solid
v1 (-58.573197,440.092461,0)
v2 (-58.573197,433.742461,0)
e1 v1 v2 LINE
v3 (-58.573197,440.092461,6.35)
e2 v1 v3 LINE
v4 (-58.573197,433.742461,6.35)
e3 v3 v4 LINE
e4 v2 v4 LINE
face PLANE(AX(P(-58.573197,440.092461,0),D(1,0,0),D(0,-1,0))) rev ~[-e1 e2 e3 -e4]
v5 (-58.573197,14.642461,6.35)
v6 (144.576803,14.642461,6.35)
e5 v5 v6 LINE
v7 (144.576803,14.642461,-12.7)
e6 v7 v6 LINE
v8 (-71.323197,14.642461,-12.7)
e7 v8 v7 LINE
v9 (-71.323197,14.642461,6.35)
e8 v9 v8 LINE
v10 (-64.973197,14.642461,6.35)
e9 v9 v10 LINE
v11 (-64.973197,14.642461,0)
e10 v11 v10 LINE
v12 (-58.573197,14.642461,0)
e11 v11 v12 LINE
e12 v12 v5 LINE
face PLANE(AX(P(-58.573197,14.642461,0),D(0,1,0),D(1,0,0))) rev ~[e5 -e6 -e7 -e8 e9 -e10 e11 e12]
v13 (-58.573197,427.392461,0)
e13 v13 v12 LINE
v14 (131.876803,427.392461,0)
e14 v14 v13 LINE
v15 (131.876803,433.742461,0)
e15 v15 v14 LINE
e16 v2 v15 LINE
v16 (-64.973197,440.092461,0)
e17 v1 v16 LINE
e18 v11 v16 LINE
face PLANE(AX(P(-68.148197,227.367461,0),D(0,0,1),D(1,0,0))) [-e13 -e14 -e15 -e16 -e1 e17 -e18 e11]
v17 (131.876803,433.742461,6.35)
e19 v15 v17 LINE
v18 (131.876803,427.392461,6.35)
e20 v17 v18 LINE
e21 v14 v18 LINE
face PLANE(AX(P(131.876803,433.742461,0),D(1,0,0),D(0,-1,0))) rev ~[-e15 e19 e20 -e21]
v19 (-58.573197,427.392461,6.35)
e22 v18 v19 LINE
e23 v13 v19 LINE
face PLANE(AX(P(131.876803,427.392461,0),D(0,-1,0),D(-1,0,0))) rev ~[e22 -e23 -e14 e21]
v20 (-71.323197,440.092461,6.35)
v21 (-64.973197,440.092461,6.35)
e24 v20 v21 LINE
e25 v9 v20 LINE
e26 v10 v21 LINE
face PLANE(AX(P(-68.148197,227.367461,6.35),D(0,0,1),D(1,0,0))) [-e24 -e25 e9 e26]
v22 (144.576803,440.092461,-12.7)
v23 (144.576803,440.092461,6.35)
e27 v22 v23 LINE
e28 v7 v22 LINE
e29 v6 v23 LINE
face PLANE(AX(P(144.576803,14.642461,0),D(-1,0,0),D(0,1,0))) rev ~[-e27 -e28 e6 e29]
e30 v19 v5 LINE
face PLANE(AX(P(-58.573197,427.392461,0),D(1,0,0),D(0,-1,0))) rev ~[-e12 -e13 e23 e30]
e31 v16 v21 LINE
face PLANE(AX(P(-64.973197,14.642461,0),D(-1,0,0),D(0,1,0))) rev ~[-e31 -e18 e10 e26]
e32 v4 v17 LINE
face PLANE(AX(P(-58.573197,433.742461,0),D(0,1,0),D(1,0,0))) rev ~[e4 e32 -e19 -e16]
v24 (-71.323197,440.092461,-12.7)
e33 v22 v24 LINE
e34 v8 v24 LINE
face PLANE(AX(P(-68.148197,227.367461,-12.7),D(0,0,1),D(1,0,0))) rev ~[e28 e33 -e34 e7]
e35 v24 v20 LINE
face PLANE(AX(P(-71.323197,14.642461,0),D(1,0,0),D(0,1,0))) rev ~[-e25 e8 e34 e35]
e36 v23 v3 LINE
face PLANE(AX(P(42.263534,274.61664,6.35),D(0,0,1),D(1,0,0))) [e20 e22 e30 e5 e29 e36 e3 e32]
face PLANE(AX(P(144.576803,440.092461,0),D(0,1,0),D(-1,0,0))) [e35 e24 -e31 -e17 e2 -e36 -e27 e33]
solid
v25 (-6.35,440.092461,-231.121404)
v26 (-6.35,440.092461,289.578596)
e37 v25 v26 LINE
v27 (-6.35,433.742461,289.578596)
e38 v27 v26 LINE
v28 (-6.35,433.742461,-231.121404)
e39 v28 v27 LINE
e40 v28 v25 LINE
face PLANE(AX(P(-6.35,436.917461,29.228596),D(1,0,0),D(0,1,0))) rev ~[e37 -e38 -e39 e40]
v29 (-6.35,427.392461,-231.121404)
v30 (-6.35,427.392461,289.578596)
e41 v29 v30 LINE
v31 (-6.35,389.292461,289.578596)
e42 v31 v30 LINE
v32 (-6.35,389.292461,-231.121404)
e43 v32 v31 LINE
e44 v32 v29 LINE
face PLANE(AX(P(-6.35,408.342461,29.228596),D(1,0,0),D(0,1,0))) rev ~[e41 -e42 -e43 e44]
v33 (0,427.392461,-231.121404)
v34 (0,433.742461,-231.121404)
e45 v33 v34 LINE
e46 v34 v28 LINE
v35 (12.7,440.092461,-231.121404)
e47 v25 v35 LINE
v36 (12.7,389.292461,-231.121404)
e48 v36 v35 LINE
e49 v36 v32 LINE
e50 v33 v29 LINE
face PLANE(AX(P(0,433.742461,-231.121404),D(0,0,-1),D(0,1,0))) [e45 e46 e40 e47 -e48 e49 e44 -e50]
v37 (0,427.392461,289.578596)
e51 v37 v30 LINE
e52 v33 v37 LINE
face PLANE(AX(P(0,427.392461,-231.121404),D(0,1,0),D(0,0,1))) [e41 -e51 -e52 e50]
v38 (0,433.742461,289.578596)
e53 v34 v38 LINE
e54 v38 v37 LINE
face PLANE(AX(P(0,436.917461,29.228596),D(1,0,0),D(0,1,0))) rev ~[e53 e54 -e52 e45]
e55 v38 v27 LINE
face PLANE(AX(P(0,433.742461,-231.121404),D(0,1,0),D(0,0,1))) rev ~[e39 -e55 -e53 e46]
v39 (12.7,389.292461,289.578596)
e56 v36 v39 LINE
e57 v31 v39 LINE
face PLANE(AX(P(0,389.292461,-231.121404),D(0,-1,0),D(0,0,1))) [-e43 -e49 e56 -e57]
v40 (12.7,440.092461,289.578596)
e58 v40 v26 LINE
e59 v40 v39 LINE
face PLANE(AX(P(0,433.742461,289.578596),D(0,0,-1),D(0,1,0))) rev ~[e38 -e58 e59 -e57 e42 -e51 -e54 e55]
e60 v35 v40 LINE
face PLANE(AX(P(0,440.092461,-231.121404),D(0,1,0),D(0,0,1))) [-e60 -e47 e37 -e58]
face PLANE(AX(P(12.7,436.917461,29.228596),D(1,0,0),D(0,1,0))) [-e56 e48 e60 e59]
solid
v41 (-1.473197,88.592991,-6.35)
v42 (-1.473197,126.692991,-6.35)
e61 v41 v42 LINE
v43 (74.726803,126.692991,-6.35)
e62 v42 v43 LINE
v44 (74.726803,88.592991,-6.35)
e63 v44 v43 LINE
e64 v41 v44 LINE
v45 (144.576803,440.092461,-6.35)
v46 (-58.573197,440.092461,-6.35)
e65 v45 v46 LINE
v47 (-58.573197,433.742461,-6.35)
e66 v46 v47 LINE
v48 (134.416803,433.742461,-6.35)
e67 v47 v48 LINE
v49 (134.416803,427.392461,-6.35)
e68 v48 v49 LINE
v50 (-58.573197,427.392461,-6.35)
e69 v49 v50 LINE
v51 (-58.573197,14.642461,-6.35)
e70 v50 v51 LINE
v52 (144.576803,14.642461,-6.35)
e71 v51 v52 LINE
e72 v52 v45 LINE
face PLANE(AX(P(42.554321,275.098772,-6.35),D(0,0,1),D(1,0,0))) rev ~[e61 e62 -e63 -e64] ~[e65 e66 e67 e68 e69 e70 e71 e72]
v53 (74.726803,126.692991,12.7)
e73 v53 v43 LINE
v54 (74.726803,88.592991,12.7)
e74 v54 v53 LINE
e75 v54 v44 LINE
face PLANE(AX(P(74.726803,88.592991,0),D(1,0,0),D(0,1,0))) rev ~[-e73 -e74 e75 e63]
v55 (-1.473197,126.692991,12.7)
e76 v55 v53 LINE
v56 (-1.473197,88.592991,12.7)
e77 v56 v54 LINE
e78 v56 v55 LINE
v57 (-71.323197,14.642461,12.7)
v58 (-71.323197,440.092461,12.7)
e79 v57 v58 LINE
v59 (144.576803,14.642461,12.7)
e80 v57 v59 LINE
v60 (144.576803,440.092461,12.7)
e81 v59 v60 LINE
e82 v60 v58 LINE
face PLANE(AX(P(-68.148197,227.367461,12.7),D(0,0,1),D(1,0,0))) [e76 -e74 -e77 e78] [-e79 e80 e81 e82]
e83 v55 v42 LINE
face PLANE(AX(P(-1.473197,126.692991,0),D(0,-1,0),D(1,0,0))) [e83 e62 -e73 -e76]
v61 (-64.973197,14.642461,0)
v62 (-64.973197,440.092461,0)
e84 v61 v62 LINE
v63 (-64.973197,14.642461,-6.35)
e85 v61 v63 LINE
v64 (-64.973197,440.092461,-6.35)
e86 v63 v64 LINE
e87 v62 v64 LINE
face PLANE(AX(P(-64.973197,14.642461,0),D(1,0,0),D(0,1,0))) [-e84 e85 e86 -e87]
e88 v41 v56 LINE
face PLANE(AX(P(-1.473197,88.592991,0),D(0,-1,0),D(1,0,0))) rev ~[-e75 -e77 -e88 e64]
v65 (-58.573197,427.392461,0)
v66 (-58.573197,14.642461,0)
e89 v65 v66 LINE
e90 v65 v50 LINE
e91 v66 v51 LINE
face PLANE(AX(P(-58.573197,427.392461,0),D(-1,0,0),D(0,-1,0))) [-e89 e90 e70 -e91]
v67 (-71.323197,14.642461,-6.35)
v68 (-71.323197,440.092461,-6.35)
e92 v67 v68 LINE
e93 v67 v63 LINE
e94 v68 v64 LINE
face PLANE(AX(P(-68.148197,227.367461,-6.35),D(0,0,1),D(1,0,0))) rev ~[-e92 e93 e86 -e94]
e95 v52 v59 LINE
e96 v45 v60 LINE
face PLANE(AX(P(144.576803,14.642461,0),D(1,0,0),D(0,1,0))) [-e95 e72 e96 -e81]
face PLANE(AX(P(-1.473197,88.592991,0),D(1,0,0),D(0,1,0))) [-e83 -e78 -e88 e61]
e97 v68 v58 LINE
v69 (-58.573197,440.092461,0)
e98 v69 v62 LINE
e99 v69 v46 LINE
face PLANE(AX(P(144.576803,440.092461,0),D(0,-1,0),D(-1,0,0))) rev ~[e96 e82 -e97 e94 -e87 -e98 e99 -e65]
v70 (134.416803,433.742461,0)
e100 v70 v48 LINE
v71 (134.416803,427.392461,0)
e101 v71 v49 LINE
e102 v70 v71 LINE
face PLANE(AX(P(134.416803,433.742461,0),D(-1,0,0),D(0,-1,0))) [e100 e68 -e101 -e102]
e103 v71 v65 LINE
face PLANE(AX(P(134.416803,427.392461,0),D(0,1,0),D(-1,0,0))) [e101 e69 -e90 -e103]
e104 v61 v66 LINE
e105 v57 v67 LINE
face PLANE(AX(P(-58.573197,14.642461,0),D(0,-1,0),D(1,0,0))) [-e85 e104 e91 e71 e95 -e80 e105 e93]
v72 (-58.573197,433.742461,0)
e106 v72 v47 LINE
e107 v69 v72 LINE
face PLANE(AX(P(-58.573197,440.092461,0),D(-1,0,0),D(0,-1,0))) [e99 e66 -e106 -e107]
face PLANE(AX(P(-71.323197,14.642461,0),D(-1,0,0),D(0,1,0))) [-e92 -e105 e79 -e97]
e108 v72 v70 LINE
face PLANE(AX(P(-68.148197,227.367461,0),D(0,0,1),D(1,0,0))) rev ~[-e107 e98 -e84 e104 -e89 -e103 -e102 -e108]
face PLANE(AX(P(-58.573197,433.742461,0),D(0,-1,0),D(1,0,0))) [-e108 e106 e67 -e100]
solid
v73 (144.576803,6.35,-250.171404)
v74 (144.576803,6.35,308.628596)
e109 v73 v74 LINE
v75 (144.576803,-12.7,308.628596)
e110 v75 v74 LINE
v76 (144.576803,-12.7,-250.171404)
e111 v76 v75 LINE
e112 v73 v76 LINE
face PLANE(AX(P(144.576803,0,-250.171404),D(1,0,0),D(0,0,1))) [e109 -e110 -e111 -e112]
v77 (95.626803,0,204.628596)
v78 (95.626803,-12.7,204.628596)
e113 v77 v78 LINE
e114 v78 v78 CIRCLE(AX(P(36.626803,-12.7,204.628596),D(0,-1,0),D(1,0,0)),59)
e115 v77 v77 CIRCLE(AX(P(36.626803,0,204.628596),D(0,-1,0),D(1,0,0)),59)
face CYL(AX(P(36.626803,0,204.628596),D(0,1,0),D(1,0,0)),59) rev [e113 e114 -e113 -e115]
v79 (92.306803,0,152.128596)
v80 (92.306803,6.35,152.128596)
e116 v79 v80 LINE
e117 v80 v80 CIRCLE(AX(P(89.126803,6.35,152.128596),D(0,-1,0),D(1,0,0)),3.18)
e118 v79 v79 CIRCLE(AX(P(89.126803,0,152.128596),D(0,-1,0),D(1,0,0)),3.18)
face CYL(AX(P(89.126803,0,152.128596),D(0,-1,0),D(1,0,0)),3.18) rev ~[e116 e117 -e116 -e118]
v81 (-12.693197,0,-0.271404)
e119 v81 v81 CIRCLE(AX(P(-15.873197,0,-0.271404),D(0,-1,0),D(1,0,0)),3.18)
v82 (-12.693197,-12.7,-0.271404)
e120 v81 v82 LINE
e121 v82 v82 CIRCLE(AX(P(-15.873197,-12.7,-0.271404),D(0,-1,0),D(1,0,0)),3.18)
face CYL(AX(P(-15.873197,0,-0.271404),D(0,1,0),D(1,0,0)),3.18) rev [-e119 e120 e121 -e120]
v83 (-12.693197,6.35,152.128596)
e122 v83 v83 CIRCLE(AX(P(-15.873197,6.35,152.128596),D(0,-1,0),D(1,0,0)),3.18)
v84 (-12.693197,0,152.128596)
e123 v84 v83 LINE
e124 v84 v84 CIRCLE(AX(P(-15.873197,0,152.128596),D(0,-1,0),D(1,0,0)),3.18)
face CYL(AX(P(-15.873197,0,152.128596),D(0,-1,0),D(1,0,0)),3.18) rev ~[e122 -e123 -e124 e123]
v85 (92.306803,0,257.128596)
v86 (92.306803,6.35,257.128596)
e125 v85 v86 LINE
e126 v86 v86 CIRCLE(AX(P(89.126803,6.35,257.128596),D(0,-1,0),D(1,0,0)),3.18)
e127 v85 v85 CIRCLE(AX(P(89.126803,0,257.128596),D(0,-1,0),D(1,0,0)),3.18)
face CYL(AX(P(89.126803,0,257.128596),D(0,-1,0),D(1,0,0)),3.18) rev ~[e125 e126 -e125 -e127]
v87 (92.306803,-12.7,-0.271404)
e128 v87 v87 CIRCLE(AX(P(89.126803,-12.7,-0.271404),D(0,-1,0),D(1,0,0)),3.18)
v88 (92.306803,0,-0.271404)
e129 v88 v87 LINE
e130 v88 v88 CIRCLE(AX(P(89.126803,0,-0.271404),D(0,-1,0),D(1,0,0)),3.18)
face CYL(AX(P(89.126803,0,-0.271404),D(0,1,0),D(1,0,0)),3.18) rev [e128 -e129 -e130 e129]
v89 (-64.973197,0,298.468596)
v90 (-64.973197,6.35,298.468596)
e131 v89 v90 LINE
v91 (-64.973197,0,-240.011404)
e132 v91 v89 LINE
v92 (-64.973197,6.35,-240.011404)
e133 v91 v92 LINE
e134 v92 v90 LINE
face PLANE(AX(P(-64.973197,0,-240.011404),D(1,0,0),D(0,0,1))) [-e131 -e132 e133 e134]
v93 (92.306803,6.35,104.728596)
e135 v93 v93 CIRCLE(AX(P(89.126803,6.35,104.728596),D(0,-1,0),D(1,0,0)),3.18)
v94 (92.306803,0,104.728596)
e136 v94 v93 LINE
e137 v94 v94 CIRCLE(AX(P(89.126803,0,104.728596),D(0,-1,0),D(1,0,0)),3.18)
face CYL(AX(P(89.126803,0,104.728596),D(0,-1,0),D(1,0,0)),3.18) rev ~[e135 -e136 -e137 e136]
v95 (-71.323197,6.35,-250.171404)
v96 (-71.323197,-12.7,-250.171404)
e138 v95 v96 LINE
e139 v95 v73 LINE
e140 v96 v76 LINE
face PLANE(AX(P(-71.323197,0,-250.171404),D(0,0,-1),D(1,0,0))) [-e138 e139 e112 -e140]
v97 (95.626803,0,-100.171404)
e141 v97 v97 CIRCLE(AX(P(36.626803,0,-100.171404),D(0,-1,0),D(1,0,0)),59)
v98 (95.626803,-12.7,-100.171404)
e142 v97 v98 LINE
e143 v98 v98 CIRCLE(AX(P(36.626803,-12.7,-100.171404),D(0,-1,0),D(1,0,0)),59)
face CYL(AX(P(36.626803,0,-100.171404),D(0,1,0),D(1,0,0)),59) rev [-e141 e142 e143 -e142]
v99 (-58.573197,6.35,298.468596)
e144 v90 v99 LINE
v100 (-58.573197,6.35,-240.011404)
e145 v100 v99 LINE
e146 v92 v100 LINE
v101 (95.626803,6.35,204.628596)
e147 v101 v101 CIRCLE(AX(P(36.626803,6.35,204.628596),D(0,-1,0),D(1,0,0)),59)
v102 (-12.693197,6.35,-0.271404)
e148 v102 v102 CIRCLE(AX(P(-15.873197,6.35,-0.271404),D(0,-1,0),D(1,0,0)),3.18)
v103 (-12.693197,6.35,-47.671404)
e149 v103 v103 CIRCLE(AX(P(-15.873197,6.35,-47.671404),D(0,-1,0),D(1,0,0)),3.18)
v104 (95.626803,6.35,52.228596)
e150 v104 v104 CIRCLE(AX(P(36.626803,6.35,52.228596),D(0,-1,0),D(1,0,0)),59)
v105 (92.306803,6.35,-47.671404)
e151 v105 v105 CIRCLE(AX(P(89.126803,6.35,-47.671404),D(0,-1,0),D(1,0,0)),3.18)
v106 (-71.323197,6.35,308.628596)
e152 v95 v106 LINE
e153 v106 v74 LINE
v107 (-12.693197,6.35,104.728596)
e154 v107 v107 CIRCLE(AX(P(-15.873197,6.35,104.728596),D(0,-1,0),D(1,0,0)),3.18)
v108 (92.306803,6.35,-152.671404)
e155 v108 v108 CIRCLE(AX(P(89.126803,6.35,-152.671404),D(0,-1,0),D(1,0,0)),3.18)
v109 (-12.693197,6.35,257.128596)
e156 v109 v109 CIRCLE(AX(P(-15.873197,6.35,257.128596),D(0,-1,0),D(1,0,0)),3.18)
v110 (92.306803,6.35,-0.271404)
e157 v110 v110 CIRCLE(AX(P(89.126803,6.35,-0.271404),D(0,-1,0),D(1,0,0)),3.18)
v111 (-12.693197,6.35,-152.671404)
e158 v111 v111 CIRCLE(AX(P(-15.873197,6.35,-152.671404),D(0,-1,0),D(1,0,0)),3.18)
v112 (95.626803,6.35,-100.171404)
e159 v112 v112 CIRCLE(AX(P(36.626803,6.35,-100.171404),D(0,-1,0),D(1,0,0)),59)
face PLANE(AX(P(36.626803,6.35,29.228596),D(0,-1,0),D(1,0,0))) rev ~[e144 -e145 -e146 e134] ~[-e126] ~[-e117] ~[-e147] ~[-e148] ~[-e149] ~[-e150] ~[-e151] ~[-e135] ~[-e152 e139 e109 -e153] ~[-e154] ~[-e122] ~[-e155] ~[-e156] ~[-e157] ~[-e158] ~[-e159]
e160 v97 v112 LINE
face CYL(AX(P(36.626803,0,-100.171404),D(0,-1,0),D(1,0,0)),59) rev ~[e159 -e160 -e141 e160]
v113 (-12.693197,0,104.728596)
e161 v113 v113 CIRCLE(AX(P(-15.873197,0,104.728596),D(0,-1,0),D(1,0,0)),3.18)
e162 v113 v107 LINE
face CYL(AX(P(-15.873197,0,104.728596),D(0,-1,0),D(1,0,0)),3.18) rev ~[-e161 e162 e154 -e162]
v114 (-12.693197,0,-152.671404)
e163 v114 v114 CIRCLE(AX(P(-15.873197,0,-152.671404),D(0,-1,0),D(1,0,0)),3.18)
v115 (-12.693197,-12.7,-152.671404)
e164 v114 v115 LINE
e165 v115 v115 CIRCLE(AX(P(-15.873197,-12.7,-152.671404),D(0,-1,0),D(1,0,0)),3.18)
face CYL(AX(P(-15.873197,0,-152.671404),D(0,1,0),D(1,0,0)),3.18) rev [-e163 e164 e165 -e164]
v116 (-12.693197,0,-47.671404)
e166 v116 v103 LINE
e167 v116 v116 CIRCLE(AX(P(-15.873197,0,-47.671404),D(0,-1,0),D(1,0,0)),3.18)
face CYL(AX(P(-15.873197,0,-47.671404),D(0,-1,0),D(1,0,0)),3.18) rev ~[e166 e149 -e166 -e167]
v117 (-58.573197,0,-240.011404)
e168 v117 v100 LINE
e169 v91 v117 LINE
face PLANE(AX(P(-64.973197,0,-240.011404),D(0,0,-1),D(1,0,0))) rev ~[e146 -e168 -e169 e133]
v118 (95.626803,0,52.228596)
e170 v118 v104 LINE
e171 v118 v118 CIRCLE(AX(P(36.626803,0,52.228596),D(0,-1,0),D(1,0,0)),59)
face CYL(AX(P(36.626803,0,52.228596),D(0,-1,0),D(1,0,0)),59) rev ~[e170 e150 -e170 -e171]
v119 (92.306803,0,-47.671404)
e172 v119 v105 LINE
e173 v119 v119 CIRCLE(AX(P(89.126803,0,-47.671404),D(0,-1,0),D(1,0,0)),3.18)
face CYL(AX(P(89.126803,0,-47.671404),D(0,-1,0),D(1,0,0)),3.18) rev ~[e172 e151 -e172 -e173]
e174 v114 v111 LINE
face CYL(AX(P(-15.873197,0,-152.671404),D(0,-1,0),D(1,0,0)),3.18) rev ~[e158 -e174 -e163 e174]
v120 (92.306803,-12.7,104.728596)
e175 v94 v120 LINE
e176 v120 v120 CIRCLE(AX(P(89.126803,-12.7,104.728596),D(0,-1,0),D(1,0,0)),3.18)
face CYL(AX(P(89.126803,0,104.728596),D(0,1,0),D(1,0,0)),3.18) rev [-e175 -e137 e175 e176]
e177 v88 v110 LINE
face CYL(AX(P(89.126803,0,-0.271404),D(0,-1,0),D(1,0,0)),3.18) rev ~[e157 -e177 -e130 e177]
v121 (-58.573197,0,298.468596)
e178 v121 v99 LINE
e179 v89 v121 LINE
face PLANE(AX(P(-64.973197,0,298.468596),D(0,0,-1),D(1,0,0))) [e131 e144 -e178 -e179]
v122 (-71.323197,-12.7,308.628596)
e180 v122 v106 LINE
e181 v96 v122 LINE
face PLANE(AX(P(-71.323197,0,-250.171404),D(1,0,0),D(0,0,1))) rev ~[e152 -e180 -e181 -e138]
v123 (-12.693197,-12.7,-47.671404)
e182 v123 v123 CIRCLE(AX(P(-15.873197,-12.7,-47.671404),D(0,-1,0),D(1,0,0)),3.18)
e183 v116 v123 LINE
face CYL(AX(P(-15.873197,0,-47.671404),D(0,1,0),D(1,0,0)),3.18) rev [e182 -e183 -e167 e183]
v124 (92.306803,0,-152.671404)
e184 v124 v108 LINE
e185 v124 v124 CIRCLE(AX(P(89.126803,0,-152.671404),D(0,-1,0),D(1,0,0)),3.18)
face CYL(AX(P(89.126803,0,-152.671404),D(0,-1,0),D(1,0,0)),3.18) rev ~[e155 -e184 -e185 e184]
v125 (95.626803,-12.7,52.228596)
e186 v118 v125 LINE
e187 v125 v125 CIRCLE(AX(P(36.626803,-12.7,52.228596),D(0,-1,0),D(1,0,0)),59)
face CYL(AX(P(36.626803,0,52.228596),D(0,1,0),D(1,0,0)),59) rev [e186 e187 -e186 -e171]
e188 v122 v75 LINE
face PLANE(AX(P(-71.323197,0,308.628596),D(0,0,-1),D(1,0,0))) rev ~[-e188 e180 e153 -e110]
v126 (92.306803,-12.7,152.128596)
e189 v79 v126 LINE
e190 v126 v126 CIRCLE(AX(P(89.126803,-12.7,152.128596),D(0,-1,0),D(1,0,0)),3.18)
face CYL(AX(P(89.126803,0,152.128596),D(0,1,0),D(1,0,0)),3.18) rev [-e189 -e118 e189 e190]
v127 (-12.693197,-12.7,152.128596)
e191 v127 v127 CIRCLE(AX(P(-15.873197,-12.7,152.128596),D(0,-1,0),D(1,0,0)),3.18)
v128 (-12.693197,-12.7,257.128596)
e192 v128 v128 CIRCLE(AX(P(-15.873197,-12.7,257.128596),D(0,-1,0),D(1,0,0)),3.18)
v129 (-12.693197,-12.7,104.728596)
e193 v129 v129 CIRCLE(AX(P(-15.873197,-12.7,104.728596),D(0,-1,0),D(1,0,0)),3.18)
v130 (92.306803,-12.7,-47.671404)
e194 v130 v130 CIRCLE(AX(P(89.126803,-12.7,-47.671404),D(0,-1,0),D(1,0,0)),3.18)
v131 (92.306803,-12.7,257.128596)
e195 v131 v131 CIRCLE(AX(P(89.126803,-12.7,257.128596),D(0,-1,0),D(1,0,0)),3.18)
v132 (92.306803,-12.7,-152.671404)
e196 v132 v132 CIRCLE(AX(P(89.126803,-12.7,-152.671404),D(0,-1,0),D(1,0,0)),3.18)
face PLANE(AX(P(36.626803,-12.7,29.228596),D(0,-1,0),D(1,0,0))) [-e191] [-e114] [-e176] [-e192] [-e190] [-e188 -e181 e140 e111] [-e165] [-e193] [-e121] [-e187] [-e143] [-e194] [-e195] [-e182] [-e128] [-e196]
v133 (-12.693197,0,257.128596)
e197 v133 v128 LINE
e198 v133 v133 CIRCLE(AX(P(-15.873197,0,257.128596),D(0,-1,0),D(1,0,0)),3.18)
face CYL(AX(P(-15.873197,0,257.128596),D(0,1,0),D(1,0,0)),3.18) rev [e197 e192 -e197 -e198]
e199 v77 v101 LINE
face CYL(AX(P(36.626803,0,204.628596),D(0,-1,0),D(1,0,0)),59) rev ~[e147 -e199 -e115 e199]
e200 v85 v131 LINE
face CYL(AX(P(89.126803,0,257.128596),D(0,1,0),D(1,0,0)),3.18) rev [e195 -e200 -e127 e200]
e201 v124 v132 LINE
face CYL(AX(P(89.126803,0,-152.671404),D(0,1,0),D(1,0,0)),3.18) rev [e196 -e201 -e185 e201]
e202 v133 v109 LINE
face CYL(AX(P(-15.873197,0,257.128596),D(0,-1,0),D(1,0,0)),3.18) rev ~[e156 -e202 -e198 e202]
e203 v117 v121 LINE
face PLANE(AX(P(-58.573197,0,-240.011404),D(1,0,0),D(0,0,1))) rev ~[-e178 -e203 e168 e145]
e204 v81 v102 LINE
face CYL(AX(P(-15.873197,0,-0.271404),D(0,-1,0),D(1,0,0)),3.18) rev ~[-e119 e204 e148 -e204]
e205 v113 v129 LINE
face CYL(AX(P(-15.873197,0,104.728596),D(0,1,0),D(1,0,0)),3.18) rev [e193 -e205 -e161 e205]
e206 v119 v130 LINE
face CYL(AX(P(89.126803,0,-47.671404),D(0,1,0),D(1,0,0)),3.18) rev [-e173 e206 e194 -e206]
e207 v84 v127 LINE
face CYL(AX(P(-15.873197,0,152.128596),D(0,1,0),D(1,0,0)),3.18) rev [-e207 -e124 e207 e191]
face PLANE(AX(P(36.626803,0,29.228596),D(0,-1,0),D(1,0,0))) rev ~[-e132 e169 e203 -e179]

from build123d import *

# Parameters (mm, degrees)
F0_W      = 215.9
F0_H      = 558.8
F0_R      = 3.18
F0_R_2    = 59
F0_W_2    = 6.4
F0_H_2    = 538.48
F1_DEPTH  = 12.7
F2_DEPTH  = 6.35
F3_W      = 6.35
F3_H      = 425.45
F3_W_2    = 76.2
F3_H_2    = 38.1
F3_W_3    = 1.32
F3_H_3    = 6.35
F3_W_4    = 192.99
F4_DEPTH  = 12.7
F5_DEPTH  = 6.35
F6_W      = 6.35
F6_H      = 425.45
F6_W_2    = 190.45
F6_H_2    = 6.35
F7_DEPTH  = 12.7
F8_DEPTH  = 6.35
F9_W      = 6.35
F9_H      = 520.7
F9_W_2    = 38.1
F10_DEPTH = 12.7
F11_DEPTH = 6.35


with BuildPart() as f1:
    # F0 (on Front) → F1 (new body)
    with BuildSketch(Plane.XZ):
        with Locations((36.6268025339, 29.2285963915)):
            Rectangle(F0_W, F0_H)
        with Locations((-15.8731974661, -152.6714036085)):
            Circle(F0_R, mode=Mode.SUBTRACT)
        with Locations((-15.8731974661, -47.6714036085)):
            Circle(F0_R, mode=Mode.SUBTRACT)
        with Locations((-15.8731974661, -0.2714036085)):
            Circle(F0_R, mode=Mode.SUBTRACT)
        with Locations((89.1268025339, -152.6714036085)):
            Circle(F0_R, mode=Mode.SUBTRACT)
        with Locations((36.6268025339, -100.1714036085)):
            Circle(F0_R_2, mode=Mode.SUBTRACT)
        with Locations((89.1268025339, -47.6714036085)):
            Circle(F0_R, mode=Mode.SUBTRACT)
        with Locations((89.1268025339, -0.2714036085)):
            Circle(F0_R, mode=Mode.SUBTRACT)
        with Locations((-61.7731974661, 29.2285963915)):
            Rectangle(F0_W_2, F0_H_2, mode=Mode.SUBTRACT)
        with Locations((-15.8731974661, 104.7285963915)):
            Circle(F0_R, mode=Mode.SUBTRACT)
        with Locations((-15.8731974661, 152.1285963915)):
            Circle(F0_R, mode=Mode.SUBTRACT)
        with Locations((36.6268025339, 204.6285963915)):
            Circle(F0_R_2, mode=Mode.SUBTRACT)
        with Locations((-15.8731974661, 257.1285963915)):
            Circle(F0_R, mode=Mode.SUBTRACT)
        with Locations((36.6268025339, 52.2285963915)):
            Circle(F0_R_2, mode=Mode.SUBTRACT)
        with Locations((89.1268025339, 104.7285963915)):
            Circle(F0_R, mode=Mode.SUBTRACT)
        with Locations((89.1268025339, 152.1285963915)):
            Circle(F0_R, mode=Mode.SUBTRACT)
        with Locations((89.1268025339, 257.1285963915)):
            Circle(F0_R, mode=Mode.SUBTRACT)
        with Locations((-61.7731974661, 29.2285963915)):
            Rectangle(F0_W_2, F0_H_2)
    extrude(amount=F1_DEPTH)

    # F0 (on Front) → F2 (join)
    with BuildSketch(Plane.XZ):
        with Locations((36.6268025339, 29.2285963915)):
            Rectangle(F0_W, F0_H)
        with Locations((-15.8731974661, -152.6714036085)):
            Circle(F0_R, mode=Mode.SUBTRACT)
        with Locations((-15.8731974661, -47.6714036085)):
            Circle(F0_R, mode=Mode.SUBTRACT)
        with Locations((-15.8731974661, -0.2714036085)):
            Circle(F0_R, mode=Mode.SUBTRACT)
        with Locations((89.1268025339, -152.6714036085)):
            Circle(F0_R, mode=Mode.SUBTRACT)
        with Locations((36.6268025339, -100.1714036085)):
            Circle(F0_R_2, mode=Mode.SUBTRACT)
        with Locations((89.1268025339, -47.6714036085)):
            Circle(F0_R, mode=Mode.SUBTRACT)
        with Locations((89.1268025339, -0.2714036085)):
            Circle(F0_R, mode=Mode.SUBTRACT)
        with Locations((-61.7731974661, 29.2285963915)):
            Rectangle(F0_W_2, F0_H_2, mode=Mode.SUBTRACT)
        with Locations((-15.8731974661, 104.7285963915)):
            Circle(F0_R, mode=Mode.SUBTRACT)
        with Locations((-15.8731974661, 152.1285963915)):
            Circle(F0_R, mode=Mode.SUBTRACT)
        with Locations((36.6268025339, 204.6285963915)):
            Circle(F0_R_2, mode=Mode.SUBTRACT)
        with Locations((-15.8731974661, 257.1285963915)):
            Circle(F0_R, mode=Mode.SUBTRACT)
        with Locations((36.6268025339, 52.2285963915)):
            Circle(F0_R_2, mode=Mode.SUBTRACT)
        with Locations((89.1268025339, 104.7285963915)):
            Circle(F0_R, mode=Mode.SUBTRACT)
        with Locations((89.1268025339, 152.1285963915)):
            Circle(F0_R, mode=Mode.SUBTRACT)
        with Locations((89.1268025339, 257.1285963915)):
            Circle(F0_R, mode=Mode.SUBTRACT)
    extrude(amount=-F2_DEPTH)


with BuildPart() as f4:
    # F3 (on Top) → F4 (new body)
    with BuildSketch(Plane.XY):
        with Locations((-68.1481974661, 227.3674610334)):
            Rectangle(F3_W, F3_H)
        Polygon((-64.9731974661, 440.0924610334), (-64.9731974661, 14.6424610334), (-58.5731974661, 14.6424610334), (-58.5731974661, 427.3924610334), (-59.8931974661, 427.3924610334), (-59.8931974661, 433.7424610334), (-58.5731974661, 433.7424610334), (-58.5731974661, 440.0924610334), align=None)
        Polygon((-58.5731974661, 427.3924610334), (-58.5731974661, 14.6424610334), (144.5768025339, 14.6424610334), (144.5768025339, 440.0924610334), (-58.5731974661, 440.0924610334), (-58.5731974661, 433.7424610334), (134.4168025339, 433.7424610334), (134.4168025339, 427.3924610334), align=None)
        with Locations((36.6268025339, 107.6429912329)):
            Rectangle(F3_W_2, F3_H_2, mode=Mode.SUBTRACT)
        with Locations((-59.2331974661, 430.5674610334)):
            Rectangle(F3_W_3, F3_H_3)
        with Locations((37.9218025339, 430.5674610334)):
            Rectangle(F3_W_4, F3_H_3)
    extrude(amount=F4_DEPTH)

    # F3 (on Top) → F5 (join)
    with BuildSketch(Plane.XY):
        Polygon((-58.5731974661, 427.3924610334), (-58.5731974661, 14.6424610334), (144.5768025339, 14.6424610334), (144.5768025339, 440.0924610334), (-58.5731974661, 440.0924610334), (-58.5731974661, 433.7424610334), (134.4168025339, 433.7424610334), (134.4168025339, 427.3924610334), align=None)
        with Locations((36.6268025339, 107.6429912329)):
            Rectangle(F3_W_2, F3_H_2, mode=Mode.SUBTRACT)
        with Locations((-68.1481974661, 227.3674610334)):
            Rectangle(F3_W, F3_H)
    extrude(amount=-F5_DEPTH)


with BuildPart() as f7:
    # F6 (on Top) → F7 (new body)
    with BuildSketch(Plane.XY):
        with Locations((-68.1481974661, 227.3674610334)):
            Rectangle(F6_W, F6_H)
        Polygon((-64.9731974661, 440.0924610334), (-64.9731974661, 14.6424610334), (-58.5731974661, 14.6424610334), (-58.5731974661, 427.3924610334), (-58.5731974661, 433.7424610334), (-58.5731974661, 440.0924610334), align=None)
        Polygon((-58.5731974661, 427.3924610334), (-58.5731974661, 14.6424610334), (144.5768025339, 14.6424610334), (144.5768025339, 440.0924610334), (-58.5731974661, 440.0924610334), (-58.5731974661, 433.7424610334), (131.8768025339, 433.7424610334), (131.8768025339, 427.3924610334), align=None)
        with Locations((36.6518025339, 430.5674610334)):
            Rectangle(F6_W_2, F6_H_2)
    extrude(amount=-F7_DEPTH)

    # F6 (on Top) → F8 (join)
    with BuildSketch(Plane.XY):
        Polygon((-58.5731974661, 427.3924610334), (-58.5731974661, 14.6424610334), (144.5768025339, 14.6424610334), (144.5768025339, 440.0924610334), (-58.5731974661, 440.0924610334), (-58.5731974661, 433.7424610334), (131.8768025339, 433.7424610334), (131.8768025339, 427.3924610334), align=None)
        with Locations((-68.1481974661, 227.3674610334)):
            Rectangle(F6_W, F6_H)
    extrude(amount=F8_DEPTH)


with BuildPart() as f10:
    # F9 (on Right) → F10 (new body)
    with BuildSketch(Plane.YZ):
        with Locations((436.9174610334, 29.2285963915)):
            Rectangle(F9_W, F9_H)
        with Locations((430.5674610334, 29.2285963915)):
            Rectangle(F9_W, F9_H)
        with Locations((408.3424610334, 29.2285963915)):
            Rectangle(F9_W_2, F9_H)
    extrude(amount=F10_DEPTH)

    # F9 (on Right) → F11 (join)
    with BuildSketch(Plane.YZ):
        with Locations((436.9174610334, 29.2285963915)):
            Rectangle(F9_W, F9_H)
        with Locations((408.3424610334, 29.2285963915)):
            Rectangle(F9_W_2, F9_H)
    extrude(amount=-F11_DEPTH)


solid = Compound([f1.part, f4.part, f7.part, f10.part])
